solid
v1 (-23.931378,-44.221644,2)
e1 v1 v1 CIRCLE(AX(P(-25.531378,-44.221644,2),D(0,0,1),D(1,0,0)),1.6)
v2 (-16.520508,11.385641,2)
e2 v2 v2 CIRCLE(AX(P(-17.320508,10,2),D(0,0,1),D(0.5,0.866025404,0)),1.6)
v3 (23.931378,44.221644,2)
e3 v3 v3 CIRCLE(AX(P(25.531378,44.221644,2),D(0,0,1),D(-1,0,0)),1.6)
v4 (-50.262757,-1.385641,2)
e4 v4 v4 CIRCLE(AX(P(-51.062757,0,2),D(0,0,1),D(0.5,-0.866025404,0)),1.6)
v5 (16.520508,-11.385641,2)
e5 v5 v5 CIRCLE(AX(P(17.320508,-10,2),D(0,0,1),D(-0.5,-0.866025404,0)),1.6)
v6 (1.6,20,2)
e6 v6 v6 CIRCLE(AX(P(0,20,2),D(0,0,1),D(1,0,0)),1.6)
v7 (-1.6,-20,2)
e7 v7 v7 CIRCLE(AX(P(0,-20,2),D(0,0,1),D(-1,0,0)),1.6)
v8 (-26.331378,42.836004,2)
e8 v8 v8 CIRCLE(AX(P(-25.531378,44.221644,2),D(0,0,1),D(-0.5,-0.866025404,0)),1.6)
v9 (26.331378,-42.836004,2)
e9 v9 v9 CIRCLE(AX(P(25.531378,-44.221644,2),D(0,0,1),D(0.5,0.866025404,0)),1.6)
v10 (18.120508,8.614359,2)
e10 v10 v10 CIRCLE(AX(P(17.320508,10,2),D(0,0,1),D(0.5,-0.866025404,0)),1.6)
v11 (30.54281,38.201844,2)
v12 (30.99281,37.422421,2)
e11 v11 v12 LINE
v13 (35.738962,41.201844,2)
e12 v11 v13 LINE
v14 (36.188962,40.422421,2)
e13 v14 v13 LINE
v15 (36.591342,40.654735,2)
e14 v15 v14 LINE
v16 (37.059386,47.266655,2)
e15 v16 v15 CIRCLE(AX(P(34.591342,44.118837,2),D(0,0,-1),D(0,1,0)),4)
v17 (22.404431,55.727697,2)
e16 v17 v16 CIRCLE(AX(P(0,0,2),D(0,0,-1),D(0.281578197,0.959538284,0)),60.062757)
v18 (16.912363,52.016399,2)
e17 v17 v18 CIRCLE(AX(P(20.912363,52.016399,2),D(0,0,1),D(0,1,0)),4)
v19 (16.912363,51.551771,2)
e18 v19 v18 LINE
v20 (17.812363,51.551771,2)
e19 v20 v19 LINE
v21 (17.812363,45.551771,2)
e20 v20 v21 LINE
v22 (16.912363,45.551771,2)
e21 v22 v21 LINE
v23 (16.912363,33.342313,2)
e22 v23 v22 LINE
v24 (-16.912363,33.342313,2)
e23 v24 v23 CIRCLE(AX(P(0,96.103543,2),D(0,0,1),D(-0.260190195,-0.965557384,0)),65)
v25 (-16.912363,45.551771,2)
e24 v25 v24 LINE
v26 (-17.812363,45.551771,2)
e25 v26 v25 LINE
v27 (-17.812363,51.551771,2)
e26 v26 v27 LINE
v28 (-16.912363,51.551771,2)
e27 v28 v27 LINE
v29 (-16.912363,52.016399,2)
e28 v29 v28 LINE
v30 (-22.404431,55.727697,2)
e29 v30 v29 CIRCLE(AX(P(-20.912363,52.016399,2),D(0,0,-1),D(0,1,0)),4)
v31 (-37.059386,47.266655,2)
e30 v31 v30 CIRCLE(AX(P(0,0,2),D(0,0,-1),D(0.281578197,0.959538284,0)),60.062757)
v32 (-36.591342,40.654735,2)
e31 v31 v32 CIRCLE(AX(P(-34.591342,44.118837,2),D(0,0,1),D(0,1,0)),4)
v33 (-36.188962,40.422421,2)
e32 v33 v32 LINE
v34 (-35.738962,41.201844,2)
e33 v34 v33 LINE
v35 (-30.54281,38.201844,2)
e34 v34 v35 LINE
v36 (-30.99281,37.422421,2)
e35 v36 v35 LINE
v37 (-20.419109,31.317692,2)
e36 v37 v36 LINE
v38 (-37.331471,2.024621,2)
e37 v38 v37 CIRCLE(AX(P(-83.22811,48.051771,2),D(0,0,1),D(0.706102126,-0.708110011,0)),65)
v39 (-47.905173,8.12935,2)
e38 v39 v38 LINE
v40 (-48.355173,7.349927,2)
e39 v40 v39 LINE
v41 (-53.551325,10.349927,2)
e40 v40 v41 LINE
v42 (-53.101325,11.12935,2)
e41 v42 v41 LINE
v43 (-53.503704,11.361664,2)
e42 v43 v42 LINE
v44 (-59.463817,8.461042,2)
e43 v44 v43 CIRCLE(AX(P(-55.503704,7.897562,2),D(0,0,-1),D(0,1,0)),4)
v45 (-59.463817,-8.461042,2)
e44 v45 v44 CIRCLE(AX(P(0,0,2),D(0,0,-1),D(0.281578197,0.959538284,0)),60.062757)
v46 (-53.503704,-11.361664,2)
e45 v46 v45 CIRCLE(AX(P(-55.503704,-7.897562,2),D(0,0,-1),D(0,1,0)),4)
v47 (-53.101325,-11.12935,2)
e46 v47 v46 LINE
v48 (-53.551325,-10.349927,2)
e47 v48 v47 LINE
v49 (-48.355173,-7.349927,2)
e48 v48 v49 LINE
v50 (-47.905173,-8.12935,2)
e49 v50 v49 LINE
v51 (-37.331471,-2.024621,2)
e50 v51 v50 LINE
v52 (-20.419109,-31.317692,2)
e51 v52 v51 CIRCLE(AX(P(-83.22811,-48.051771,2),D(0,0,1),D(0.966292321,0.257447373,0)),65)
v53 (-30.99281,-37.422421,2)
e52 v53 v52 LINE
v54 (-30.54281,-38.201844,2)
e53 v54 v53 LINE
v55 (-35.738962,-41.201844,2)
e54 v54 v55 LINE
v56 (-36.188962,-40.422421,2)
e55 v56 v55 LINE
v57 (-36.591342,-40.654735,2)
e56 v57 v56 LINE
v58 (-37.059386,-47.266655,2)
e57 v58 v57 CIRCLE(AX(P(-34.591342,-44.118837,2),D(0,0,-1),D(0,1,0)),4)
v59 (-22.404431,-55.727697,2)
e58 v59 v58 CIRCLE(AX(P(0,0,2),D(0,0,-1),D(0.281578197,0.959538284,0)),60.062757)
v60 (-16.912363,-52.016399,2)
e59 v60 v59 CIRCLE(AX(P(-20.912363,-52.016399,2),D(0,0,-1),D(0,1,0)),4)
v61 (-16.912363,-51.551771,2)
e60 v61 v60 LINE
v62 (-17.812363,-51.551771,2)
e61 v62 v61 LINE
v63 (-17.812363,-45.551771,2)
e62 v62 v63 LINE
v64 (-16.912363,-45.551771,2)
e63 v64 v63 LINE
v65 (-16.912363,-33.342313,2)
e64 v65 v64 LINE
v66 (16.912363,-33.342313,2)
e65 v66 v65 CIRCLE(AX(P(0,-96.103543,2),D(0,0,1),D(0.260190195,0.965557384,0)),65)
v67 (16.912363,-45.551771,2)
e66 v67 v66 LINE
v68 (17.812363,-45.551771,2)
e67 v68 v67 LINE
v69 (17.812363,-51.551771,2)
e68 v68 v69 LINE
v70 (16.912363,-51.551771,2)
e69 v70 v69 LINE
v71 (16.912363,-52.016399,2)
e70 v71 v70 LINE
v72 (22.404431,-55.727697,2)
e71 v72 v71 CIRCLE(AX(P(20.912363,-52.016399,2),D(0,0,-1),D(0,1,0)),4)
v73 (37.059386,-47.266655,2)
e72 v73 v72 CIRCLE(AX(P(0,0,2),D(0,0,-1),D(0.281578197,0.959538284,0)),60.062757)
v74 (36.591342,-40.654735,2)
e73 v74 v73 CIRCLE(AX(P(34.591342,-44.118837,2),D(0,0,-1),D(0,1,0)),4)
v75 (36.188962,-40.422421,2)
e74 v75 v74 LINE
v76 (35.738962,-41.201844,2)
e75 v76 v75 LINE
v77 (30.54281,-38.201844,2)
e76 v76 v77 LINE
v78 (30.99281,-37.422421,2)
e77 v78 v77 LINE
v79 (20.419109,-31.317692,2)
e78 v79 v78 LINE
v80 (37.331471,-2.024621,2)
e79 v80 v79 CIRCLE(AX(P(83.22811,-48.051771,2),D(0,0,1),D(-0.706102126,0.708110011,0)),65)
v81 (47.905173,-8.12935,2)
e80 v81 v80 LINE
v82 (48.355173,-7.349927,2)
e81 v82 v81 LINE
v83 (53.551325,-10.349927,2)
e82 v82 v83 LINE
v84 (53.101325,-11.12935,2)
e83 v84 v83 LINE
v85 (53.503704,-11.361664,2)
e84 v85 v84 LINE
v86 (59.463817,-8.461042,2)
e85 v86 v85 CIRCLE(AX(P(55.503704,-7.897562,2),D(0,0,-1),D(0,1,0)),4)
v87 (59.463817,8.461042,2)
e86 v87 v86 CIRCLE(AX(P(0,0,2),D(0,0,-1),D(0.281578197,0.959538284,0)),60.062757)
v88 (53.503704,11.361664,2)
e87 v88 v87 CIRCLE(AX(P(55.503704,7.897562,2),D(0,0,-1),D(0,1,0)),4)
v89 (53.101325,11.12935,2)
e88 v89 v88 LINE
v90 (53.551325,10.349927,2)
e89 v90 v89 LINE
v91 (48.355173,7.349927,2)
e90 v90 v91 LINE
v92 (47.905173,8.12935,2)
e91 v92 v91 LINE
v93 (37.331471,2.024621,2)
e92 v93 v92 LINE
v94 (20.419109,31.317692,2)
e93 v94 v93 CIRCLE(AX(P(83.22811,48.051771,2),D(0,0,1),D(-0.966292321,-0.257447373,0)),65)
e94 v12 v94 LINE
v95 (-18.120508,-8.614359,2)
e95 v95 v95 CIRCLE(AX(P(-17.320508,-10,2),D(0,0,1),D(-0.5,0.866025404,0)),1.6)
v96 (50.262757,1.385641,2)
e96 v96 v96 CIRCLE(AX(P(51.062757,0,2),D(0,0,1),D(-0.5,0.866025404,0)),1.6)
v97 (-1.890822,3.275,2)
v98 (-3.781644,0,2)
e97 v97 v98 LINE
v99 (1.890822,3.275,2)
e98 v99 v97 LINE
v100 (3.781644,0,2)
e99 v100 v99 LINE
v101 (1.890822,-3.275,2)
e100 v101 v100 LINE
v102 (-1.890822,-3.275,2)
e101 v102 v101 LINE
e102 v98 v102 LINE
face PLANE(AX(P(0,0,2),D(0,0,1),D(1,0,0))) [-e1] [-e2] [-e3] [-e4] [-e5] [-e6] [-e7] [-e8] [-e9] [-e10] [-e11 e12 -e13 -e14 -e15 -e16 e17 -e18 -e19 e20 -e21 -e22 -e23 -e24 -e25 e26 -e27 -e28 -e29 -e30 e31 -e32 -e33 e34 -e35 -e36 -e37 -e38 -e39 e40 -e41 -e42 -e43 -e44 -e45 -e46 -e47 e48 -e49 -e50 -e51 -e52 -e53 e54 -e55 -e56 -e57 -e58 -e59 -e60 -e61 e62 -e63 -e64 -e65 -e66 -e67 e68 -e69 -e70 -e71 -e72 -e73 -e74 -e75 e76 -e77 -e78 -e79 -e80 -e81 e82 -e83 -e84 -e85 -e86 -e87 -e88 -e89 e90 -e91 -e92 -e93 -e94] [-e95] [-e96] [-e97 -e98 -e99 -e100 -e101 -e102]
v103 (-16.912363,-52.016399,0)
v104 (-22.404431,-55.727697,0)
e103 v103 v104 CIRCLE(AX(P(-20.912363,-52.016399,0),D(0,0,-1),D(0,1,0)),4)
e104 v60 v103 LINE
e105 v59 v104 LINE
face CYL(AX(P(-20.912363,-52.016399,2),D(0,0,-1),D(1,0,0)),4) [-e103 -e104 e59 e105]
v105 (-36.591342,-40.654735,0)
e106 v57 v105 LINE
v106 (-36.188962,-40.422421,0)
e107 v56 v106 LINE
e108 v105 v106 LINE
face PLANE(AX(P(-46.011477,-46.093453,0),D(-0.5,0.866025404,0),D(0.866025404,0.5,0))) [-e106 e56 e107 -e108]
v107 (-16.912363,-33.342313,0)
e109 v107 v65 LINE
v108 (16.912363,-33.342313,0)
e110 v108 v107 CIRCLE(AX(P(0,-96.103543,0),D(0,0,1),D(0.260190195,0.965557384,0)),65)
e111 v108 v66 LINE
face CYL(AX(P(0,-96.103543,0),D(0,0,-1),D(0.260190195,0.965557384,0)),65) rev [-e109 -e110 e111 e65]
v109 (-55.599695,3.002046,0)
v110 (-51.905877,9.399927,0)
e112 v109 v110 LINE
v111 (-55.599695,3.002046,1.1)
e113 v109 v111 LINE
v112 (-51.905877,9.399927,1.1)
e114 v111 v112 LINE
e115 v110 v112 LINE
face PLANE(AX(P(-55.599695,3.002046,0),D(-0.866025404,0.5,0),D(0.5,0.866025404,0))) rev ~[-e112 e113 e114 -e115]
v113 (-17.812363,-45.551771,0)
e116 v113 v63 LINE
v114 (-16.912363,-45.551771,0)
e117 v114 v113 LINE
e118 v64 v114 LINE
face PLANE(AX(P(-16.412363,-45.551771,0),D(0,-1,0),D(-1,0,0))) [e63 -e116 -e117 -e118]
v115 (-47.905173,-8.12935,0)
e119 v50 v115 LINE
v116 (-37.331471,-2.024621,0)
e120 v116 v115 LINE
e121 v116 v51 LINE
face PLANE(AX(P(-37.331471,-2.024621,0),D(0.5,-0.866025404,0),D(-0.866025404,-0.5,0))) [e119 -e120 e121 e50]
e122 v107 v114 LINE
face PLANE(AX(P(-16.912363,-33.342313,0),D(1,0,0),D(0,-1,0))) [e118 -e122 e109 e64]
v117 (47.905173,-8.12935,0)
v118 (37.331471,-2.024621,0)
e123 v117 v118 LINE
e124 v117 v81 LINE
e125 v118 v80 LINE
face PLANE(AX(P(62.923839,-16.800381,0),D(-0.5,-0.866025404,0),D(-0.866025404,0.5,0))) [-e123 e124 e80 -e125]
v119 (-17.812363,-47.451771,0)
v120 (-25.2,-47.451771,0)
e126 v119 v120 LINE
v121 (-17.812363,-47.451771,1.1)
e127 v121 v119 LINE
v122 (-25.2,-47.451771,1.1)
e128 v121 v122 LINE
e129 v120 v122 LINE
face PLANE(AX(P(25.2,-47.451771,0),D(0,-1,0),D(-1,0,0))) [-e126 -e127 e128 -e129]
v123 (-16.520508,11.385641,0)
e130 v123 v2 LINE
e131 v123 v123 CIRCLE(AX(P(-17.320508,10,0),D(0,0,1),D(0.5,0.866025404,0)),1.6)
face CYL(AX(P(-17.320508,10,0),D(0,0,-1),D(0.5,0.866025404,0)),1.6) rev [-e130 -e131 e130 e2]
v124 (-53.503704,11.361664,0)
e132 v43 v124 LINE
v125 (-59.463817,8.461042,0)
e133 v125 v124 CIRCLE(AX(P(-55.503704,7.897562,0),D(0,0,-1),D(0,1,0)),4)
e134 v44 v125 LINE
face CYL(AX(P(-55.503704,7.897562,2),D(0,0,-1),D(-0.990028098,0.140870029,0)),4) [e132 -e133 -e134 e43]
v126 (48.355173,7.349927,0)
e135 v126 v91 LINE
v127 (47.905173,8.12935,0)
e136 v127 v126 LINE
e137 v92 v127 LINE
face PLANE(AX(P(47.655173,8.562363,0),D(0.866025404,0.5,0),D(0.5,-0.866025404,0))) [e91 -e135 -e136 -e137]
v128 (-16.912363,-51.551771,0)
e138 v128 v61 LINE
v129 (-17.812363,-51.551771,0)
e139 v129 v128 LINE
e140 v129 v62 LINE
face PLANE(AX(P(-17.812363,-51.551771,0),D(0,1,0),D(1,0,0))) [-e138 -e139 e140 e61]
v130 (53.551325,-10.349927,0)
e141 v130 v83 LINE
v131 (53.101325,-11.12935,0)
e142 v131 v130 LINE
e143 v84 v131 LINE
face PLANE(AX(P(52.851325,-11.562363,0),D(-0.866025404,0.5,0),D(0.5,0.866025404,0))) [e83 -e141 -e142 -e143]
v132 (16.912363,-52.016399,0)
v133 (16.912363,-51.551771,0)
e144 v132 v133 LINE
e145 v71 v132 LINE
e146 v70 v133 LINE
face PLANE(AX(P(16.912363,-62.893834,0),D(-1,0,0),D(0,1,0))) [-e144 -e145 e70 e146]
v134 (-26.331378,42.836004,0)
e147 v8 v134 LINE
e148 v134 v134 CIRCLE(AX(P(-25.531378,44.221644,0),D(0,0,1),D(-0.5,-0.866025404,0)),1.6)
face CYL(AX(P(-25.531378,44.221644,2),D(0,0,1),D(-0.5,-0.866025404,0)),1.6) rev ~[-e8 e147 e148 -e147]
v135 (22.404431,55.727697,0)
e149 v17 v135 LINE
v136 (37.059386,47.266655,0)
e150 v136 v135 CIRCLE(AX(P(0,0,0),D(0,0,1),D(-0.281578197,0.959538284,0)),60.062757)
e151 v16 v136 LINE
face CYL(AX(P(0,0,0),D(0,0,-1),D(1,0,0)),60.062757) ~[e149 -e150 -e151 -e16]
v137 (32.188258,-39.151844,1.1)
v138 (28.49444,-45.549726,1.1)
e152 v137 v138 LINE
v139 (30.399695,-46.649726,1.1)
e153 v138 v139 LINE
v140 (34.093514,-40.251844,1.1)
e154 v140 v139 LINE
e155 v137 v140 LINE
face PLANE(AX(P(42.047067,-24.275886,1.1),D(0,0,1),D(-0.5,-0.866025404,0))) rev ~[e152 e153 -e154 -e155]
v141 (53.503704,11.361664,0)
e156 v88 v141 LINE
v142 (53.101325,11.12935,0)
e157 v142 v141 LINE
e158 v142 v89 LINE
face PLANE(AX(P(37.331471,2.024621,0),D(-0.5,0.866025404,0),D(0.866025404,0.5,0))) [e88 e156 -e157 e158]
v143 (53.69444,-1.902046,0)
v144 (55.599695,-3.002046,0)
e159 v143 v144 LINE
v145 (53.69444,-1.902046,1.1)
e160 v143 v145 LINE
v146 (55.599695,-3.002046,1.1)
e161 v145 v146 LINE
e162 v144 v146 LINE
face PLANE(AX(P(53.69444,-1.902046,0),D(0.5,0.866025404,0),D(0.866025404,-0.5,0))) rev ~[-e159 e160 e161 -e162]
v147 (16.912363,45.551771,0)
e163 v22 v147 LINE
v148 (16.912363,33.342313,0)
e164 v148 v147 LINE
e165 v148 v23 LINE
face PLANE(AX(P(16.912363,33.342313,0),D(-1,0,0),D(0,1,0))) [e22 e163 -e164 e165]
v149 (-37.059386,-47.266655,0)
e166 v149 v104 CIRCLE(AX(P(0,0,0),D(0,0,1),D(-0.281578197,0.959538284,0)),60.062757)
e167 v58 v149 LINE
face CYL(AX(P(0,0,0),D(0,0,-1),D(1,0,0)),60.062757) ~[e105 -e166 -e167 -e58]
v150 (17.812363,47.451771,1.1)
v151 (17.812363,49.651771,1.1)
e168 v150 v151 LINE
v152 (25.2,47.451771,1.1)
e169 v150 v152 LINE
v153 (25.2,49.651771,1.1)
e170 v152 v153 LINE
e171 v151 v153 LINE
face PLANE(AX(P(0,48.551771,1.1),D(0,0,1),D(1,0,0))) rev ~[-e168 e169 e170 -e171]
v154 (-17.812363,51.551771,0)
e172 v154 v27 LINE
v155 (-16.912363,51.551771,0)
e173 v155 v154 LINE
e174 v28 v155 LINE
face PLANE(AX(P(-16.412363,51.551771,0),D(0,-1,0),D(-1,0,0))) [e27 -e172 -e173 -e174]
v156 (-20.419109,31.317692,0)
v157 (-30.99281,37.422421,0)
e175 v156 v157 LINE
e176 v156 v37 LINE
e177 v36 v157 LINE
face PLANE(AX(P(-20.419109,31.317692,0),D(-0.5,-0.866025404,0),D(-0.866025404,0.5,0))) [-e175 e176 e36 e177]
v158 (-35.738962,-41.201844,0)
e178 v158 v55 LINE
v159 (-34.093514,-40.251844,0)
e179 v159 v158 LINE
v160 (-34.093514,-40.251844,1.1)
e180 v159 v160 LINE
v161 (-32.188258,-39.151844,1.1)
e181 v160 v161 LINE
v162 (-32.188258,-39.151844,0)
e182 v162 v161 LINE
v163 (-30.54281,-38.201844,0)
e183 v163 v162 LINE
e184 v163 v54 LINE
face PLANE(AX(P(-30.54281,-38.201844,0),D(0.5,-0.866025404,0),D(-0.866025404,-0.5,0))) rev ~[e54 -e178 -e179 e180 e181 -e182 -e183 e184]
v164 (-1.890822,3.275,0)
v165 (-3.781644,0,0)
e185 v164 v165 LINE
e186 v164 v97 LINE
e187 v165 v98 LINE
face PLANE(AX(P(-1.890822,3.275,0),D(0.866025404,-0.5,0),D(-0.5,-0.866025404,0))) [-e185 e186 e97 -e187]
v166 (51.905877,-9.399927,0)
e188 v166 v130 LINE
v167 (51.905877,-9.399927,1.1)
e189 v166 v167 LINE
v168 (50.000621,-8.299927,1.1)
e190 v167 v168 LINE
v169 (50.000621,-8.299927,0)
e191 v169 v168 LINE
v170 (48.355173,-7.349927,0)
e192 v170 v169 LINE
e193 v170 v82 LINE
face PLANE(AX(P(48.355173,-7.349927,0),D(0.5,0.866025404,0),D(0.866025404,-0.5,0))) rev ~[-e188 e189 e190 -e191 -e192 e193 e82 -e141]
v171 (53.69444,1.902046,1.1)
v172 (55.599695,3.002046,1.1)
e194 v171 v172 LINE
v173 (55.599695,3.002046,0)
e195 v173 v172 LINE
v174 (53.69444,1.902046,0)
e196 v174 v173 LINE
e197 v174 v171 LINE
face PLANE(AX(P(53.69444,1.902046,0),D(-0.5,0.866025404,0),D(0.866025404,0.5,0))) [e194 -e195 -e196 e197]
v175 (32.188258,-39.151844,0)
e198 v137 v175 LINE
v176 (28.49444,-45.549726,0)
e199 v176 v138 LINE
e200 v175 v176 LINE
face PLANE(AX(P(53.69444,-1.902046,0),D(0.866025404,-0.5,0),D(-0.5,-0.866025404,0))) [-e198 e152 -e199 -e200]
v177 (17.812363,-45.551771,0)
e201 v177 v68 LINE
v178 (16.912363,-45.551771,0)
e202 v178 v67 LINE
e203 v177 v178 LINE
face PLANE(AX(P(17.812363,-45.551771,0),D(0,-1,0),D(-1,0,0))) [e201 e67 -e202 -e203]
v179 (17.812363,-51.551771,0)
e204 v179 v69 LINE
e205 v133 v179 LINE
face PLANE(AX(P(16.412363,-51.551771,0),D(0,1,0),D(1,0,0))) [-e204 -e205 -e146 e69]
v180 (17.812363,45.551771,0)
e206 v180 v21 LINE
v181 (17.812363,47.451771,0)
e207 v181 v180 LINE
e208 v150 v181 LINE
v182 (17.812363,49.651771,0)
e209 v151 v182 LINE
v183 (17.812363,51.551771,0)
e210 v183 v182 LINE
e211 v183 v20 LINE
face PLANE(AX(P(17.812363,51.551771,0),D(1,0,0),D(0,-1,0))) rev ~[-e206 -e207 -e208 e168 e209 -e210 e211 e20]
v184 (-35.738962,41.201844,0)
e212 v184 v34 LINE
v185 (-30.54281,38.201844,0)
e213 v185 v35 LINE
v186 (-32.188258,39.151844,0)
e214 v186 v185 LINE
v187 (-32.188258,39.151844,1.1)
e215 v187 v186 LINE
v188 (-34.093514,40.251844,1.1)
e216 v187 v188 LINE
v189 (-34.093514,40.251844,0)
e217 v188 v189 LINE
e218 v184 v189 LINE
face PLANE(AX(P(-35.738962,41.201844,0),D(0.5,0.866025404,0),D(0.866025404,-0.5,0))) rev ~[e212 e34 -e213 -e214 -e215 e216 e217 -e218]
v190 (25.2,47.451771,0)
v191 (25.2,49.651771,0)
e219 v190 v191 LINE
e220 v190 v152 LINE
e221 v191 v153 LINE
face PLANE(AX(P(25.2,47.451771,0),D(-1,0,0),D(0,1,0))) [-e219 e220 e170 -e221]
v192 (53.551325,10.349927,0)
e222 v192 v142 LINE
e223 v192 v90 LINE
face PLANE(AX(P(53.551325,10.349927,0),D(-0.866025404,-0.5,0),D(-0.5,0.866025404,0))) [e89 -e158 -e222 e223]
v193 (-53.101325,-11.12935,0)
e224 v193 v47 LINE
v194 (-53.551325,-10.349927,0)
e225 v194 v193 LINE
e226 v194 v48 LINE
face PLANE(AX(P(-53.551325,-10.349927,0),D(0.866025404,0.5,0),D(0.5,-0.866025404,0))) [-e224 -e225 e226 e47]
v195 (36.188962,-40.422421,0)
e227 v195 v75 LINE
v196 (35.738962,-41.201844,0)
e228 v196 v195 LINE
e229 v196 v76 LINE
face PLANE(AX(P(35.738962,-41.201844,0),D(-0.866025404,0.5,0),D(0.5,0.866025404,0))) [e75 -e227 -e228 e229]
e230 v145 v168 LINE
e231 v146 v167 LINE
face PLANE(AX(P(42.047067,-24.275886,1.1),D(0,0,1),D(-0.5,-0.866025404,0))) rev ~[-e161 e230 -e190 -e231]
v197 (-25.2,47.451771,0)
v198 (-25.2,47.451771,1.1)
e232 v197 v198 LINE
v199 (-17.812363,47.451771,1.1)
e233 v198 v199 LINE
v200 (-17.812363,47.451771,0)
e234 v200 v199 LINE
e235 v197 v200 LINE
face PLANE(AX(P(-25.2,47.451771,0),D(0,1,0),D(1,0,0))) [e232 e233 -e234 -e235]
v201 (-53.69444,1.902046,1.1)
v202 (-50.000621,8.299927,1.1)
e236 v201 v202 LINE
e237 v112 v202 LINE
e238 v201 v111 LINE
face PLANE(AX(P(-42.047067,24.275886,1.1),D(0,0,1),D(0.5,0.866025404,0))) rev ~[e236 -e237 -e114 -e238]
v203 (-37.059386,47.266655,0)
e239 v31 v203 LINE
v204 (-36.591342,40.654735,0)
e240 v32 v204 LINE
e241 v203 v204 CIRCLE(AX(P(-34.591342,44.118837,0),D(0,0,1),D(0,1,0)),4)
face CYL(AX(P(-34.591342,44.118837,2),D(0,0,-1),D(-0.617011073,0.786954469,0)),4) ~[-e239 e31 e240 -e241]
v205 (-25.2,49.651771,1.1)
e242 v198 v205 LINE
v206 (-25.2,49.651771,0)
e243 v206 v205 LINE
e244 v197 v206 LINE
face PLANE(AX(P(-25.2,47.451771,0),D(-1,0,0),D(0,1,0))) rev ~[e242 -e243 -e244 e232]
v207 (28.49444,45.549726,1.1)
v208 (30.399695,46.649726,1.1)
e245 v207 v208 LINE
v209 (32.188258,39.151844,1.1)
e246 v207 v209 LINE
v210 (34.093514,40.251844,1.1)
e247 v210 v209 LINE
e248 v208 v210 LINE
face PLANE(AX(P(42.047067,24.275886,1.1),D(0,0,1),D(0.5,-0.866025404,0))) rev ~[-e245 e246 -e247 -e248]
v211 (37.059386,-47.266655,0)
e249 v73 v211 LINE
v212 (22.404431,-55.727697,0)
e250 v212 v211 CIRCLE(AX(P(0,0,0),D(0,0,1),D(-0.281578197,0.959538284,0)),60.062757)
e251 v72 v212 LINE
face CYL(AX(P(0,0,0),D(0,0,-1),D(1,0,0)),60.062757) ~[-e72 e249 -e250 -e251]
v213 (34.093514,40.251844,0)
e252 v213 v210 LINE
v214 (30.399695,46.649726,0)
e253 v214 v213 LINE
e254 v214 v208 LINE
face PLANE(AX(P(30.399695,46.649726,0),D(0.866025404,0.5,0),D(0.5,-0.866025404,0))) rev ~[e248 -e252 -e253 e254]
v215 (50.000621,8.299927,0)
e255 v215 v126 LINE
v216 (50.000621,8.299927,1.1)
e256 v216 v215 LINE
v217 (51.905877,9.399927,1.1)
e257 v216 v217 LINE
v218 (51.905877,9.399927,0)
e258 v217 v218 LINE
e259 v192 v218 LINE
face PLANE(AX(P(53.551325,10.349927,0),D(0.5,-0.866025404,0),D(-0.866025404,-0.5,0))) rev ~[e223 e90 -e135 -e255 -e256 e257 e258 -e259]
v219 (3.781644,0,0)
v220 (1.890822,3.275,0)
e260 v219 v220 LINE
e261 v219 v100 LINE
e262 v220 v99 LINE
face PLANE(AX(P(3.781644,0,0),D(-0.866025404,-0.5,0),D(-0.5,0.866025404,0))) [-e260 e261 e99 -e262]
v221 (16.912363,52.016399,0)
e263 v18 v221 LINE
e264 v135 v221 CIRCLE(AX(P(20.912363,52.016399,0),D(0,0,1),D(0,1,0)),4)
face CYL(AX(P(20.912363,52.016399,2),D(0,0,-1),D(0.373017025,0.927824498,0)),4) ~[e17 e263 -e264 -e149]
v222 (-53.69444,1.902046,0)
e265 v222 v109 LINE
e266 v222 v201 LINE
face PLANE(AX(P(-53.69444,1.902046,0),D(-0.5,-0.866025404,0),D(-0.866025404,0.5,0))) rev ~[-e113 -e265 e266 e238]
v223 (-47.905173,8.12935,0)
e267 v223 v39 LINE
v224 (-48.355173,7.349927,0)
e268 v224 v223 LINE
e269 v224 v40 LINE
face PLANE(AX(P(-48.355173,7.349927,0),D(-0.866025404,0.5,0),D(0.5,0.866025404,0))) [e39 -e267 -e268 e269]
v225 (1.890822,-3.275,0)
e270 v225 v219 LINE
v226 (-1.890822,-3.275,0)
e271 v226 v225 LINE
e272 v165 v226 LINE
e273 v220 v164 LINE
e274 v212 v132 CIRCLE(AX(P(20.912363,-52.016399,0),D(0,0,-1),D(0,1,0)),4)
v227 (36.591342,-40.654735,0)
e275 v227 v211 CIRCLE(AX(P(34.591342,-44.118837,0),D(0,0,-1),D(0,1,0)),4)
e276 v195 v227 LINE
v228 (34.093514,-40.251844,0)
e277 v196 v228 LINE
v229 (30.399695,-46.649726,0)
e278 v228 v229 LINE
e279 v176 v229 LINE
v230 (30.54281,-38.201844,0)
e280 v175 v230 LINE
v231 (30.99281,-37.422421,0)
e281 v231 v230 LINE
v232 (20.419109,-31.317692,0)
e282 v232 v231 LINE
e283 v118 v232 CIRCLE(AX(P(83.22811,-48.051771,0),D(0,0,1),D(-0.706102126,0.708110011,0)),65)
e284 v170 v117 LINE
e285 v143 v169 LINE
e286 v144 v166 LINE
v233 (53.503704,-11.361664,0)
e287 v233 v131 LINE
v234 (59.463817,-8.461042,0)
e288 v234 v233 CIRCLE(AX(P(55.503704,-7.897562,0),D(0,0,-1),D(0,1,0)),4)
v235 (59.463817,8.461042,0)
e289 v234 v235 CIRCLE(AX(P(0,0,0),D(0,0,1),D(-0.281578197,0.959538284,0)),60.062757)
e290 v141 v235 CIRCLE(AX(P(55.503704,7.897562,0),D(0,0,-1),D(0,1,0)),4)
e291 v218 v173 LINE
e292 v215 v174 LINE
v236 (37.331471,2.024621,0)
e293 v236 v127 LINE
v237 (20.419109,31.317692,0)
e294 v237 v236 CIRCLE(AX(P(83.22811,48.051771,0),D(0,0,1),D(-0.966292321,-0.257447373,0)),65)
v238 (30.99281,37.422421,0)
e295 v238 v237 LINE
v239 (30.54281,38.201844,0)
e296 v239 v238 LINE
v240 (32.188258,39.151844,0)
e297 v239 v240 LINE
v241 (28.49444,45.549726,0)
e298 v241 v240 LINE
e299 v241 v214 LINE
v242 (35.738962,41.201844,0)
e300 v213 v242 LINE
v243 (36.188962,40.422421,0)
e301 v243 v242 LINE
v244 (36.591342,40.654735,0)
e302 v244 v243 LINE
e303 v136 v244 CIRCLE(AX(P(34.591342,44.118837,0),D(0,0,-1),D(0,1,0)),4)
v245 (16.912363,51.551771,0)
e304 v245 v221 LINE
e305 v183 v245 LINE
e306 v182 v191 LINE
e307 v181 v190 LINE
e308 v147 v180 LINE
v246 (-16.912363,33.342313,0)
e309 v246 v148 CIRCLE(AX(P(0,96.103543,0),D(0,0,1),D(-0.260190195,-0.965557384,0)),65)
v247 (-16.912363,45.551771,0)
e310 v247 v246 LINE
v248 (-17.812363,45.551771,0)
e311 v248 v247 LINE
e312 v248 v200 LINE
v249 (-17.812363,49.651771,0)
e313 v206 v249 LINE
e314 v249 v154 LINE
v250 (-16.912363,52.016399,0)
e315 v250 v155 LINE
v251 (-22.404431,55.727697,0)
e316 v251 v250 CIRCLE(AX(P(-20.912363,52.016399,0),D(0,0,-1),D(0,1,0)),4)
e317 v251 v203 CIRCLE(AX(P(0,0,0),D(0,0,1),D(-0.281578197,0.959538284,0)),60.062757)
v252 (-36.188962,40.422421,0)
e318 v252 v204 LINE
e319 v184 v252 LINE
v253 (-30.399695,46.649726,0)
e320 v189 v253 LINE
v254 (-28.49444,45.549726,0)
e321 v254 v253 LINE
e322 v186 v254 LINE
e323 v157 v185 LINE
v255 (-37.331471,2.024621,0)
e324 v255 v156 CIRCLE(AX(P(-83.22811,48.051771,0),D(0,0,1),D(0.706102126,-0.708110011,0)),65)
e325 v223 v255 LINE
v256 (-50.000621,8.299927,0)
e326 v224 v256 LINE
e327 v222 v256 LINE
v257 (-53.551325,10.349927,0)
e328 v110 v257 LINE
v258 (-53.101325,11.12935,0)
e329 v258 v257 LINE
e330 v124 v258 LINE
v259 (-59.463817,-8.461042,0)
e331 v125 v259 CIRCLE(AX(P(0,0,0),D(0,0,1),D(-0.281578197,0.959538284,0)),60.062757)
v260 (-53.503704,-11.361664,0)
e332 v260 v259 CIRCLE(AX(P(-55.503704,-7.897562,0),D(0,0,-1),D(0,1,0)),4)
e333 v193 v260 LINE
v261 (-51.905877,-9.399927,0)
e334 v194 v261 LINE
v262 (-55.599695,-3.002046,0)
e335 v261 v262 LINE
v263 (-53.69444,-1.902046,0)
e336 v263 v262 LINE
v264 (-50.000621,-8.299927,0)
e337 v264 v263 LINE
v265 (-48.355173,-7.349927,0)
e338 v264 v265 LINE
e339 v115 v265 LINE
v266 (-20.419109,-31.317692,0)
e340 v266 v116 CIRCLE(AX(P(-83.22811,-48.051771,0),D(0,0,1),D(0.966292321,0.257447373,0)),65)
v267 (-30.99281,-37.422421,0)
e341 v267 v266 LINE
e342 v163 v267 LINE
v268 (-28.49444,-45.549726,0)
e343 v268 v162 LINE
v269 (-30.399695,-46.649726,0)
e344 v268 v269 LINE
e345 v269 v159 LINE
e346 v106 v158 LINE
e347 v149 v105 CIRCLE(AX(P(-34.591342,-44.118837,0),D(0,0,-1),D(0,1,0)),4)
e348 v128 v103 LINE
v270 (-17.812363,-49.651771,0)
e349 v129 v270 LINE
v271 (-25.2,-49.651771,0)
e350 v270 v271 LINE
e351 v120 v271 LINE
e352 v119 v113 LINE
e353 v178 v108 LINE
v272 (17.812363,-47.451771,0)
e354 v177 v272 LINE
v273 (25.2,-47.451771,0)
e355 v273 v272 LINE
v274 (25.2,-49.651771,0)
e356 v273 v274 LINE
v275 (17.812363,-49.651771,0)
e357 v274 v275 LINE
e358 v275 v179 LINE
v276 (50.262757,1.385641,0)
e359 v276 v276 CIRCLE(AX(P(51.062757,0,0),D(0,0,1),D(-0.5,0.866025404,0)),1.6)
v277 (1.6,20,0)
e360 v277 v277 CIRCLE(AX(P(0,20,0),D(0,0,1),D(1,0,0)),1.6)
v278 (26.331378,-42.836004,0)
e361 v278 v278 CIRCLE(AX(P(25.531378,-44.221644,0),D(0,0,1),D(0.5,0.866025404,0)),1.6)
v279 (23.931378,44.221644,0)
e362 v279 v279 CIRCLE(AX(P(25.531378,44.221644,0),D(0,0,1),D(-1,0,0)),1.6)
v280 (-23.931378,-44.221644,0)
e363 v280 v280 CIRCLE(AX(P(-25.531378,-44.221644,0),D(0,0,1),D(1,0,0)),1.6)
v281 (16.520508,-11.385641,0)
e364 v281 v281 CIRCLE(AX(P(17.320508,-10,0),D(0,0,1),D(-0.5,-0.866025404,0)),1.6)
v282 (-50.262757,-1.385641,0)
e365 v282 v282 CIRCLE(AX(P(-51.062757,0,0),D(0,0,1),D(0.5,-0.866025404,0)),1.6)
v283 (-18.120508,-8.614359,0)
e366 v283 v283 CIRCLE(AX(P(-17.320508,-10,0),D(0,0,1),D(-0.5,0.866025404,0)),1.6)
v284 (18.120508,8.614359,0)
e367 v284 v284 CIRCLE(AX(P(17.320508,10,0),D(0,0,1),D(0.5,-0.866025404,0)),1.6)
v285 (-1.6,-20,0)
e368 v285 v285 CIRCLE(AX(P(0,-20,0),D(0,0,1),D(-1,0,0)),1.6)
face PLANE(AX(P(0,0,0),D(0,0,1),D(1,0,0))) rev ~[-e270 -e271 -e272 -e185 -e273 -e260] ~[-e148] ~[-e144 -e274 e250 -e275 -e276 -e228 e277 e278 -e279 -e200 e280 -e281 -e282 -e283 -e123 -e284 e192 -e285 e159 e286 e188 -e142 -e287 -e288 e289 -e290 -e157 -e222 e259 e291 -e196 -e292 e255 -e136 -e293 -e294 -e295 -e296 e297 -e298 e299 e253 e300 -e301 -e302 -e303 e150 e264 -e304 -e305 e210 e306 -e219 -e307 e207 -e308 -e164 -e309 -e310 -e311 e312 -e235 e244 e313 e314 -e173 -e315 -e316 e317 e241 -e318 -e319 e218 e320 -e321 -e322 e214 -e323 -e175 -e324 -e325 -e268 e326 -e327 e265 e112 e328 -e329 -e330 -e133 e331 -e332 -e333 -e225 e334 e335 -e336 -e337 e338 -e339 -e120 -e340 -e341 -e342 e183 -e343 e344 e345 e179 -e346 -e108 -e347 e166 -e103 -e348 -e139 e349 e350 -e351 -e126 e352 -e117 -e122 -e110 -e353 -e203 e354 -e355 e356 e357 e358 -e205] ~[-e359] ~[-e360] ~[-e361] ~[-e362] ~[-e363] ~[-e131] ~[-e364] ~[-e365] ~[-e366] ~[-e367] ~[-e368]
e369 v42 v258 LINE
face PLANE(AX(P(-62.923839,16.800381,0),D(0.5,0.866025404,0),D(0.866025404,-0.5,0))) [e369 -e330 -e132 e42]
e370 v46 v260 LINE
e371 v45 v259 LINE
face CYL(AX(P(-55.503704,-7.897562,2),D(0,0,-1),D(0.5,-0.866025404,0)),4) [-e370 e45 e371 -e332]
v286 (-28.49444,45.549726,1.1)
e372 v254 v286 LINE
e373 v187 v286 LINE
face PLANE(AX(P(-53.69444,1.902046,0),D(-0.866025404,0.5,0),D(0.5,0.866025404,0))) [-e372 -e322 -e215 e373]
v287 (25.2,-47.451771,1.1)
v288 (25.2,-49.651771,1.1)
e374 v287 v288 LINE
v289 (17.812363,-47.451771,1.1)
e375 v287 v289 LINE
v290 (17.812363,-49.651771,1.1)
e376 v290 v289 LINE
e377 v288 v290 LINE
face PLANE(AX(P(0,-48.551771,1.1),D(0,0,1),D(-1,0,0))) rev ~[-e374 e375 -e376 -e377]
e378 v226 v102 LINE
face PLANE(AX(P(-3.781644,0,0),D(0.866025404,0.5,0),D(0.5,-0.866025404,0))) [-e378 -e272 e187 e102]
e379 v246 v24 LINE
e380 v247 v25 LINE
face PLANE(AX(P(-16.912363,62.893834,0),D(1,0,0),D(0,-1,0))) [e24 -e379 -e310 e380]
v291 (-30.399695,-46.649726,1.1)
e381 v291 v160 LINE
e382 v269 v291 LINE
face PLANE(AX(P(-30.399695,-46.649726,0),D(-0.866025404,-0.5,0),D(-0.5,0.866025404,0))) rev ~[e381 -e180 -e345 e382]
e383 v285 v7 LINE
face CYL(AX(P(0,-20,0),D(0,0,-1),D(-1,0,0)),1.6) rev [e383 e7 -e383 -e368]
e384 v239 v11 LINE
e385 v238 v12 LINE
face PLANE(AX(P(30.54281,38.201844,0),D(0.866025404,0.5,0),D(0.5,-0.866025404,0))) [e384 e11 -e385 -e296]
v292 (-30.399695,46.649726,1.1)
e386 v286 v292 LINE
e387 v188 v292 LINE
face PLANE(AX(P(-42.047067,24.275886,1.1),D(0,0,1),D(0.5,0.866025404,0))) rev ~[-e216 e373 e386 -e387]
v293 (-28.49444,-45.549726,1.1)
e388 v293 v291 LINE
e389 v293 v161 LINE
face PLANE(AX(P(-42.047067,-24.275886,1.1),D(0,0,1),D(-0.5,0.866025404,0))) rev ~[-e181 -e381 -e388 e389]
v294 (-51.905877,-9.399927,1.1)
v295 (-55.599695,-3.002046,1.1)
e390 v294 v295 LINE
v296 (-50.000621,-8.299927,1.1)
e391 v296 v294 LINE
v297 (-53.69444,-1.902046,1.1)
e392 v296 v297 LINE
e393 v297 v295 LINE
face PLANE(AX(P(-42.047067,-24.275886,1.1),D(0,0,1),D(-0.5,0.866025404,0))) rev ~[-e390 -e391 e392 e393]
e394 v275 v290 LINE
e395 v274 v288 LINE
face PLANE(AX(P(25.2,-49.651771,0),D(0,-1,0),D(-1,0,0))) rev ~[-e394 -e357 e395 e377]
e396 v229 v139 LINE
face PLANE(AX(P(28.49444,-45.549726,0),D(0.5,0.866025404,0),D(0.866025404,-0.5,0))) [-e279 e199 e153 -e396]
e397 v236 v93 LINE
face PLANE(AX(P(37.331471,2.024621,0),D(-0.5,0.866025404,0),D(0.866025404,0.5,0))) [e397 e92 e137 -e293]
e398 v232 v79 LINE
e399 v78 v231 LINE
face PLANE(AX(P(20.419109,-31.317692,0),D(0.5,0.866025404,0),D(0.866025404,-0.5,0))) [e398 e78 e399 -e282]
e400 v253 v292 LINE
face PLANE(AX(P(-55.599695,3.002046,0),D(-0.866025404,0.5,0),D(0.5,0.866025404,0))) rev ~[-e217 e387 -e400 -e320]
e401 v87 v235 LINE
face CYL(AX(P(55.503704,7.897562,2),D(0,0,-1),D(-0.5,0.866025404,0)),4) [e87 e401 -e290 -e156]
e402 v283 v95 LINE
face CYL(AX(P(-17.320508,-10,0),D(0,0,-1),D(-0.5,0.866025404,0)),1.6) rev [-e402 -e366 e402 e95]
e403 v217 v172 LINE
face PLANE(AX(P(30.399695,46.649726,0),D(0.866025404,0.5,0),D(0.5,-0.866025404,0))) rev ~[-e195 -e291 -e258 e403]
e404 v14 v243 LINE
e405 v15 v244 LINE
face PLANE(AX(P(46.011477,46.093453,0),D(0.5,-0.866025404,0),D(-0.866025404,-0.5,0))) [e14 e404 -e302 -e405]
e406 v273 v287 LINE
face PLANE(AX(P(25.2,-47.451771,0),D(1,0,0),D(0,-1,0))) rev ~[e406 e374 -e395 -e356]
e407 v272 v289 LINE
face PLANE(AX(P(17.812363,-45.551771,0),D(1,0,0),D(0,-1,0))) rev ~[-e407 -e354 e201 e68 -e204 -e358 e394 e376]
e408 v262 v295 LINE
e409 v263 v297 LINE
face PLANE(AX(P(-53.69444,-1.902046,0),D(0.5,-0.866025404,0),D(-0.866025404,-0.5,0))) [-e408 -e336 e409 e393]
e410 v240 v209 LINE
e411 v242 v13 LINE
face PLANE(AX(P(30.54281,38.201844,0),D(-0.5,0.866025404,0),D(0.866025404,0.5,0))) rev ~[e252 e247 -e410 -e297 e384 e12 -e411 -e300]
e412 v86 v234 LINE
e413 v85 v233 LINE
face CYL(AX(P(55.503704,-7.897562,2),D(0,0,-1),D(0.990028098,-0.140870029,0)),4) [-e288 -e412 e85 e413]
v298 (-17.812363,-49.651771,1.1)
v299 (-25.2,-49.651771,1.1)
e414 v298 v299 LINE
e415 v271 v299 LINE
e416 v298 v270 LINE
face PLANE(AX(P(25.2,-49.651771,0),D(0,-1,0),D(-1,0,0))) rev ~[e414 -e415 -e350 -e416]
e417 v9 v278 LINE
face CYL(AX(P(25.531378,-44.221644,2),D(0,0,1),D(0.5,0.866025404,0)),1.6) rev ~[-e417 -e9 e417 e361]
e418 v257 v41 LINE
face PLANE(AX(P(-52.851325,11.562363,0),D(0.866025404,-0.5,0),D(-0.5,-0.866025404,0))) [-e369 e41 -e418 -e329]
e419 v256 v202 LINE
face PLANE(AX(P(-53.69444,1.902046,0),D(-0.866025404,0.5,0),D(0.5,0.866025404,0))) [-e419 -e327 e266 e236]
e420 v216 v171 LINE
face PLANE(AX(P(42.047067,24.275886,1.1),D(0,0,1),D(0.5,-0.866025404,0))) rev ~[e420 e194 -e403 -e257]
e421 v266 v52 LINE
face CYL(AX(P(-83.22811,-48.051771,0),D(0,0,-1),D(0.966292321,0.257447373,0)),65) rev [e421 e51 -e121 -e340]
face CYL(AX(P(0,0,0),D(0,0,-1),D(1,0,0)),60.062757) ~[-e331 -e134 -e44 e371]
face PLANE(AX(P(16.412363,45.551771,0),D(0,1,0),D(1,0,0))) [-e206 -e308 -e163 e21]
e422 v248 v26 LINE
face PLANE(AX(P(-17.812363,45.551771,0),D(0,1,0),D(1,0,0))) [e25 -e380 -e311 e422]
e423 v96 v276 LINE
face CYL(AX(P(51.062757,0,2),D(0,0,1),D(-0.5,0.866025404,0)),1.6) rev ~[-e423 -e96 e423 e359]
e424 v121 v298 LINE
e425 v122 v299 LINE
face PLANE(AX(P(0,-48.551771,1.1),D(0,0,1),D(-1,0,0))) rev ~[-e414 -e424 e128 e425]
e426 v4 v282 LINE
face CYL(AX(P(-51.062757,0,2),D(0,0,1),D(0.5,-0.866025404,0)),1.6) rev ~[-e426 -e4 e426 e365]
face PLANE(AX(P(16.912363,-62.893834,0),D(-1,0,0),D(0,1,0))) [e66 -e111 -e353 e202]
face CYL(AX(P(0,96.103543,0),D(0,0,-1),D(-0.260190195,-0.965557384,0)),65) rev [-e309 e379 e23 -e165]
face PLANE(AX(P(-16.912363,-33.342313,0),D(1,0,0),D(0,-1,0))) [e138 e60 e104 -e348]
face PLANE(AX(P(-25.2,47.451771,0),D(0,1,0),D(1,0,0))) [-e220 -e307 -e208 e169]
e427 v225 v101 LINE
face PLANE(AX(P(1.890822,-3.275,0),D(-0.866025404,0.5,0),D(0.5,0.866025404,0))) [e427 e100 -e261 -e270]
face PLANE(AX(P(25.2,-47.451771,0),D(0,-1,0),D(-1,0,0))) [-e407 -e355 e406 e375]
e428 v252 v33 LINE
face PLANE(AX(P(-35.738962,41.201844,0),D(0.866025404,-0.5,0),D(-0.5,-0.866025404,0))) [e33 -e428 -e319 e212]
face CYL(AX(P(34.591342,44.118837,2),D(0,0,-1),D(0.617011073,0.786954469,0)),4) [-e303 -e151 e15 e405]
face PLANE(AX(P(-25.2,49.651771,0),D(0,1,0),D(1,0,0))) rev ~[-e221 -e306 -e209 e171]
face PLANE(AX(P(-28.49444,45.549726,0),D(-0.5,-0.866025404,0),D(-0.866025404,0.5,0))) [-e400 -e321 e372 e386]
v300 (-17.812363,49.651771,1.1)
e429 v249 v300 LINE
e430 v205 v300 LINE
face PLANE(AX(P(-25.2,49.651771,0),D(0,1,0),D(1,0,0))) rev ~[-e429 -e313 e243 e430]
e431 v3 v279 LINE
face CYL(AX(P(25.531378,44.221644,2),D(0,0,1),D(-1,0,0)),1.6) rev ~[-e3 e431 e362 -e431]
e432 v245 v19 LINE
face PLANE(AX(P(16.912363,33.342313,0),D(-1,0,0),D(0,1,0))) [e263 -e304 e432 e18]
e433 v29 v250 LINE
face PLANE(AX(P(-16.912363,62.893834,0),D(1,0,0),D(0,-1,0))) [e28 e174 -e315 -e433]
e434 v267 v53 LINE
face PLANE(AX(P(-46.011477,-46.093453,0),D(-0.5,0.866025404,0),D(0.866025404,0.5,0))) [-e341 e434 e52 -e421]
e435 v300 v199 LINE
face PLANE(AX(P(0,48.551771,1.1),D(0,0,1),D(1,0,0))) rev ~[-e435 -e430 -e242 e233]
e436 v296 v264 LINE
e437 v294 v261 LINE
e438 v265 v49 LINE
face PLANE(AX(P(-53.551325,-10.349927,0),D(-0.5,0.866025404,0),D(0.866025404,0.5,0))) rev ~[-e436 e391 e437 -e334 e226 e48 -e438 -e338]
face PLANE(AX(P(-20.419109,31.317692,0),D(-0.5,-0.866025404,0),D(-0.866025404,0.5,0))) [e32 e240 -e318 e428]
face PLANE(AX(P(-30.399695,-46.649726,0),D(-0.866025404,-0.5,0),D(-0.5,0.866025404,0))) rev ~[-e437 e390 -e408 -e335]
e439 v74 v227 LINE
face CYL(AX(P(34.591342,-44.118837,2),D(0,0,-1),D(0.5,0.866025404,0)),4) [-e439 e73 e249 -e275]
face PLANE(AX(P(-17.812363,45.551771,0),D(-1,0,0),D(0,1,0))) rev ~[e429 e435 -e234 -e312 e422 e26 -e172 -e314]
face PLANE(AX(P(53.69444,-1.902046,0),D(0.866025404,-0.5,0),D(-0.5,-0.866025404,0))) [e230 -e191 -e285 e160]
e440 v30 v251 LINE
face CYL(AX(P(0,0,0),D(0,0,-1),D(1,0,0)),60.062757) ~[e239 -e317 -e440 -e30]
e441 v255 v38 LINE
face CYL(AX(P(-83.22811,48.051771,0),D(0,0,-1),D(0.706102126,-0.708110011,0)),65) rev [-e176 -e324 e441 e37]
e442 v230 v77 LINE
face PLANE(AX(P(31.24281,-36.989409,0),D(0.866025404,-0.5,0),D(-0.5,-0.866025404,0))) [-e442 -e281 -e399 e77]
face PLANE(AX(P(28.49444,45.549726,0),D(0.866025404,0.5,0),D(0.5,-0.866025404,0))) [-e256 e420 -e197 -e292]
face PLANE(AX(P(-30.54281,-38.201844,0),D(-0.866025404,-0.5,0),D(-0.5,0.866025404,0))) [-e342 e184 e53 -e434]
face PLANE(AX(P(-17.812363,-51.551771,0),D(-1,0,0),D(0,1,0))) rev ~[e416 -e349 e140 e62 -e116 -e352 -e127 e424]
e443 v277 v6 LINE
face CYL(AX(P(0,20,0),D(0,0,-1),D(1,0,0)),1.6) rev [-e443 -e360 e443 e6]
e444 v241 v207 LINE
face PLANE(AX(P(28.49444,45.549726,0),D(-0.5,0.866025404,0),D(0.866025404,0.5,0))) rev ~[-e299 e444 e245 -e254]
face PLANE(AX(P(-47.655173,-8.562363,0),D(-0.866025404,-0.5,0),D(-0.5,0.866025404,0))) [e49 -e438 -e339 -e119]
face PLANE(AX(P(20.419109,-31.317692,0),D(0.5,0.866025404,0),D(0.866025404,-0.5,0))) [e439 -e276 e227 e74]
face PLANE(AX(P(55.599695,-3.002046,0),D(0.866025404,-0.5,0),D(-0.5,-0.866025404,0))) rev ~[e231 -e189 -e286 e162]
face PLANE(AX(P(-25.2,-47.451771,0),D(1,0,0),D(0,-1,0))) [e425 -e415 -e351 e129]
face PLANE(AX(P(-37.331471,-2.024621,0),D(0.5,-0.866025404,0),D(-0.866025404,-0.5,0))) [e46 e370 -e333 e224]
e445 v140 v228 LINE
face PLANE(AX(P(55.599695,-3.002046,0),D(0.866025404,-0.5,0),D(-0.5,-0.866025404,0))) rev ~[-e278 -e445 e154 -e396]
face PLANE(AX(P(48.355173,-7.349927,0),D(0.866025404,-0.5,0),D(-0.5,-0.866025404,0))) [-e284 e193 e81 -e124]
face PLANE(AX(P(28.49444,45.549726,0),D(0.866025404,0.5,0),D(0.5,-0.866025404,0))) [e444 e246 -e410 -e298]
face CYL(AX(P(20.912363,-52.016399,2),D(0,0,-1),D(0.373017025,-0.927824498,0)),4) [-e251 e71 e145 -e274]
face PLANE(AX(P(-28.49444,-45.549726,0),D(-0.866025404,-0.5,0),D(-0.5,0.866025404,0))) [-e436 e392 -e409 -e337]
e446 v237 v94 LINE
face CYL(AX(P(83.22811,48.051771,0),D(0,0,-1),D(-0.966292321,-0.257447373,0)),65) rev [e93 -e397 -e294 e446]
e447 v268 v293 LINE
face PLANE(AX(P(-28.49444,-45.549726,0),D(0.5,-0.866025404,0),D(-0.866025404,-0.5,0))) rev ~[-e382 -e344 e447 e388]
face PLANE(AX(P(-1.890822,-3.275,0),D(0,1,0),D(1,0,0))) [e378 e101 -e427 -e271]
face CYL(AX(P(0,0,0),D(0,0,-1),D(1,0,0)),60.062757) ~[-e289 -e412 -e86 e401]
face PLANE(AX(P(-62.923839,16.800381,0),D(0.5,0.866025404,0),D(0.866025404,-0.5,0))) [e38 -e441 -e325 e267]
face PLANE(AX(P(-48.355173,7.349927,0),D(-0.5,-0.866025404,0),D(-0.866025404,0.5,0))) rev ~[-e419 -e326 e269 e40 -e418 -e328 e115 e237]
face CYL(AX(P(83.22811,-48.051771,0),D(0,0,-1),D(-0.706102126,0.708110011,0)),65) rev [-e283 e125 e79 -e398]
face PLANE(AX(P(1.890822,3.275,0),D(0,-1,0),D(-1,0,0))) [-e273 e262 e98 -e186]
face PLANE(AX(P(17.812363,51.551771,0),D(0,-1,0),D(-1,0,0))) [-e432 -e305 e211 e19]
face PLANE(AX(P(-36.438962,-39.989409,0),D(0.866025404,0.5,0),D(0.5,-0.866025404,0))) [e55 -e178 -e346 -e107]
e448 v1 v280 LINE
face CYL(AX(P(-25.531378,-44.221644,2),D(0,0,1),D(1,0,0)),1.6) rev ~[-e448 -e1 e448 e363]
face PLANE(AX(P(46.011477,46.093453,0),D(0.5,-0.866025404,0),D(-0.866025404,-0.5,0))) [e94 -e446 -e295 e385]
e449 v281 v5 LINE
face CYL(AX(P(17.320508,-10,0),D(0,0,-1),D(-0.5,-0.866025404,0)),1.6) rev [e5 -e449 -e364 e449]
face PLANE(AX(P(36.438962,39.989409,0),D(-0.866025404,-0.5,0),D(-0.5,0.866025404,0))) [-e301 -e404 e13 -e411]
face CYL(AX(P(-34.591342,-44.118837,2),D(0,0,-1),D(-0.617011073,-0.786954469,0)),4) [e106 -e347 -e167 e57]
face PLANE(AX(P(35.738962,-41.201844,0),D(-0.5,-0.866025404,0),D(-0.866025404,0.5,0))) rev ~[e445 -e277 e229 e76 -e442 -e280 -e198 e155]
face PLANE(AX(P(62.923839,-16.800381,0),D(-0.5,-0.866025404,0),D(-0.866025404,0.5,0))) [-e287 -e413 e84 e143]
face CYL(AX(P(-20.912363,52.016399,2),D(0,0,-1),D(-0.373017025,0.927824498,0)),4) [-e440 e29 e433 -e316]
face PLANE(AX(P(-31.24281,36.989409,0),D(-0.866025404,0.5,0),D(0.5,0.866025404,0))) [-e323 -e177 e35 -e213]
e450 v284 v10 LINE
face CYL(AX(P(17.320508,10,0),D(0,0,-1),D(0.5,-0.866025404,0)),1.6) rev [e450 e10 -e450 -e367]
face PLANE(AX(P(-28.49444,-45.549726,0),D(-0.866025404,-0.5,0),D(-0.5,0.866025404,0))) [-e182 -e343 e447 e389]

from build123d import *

# Parameters (mm, degrees)
SKETCH3_R                = 60.062756644
DISK_DEPTH               = 2
SKETCH4_W                = 50.4
SKETCH4_H                = 2.2
AXLE_DEPTH               = 1.1
ROLLER_REACH             = 86.965
WASHER_REACH             = 86.965
FILLET1_R                = 4
CIRPATTERN1_COUNT        = 6
FILLET1_OF_CIRPATTERN1_R = 4
ROLLER_SCREW_REACH       = 84.155
SKETCH9_R                = 1.6
CIRPATTERN3_COUNT        = 6
HEX_AXLE_REACH           = 84.155
HUB_SCREWS_REACH         = 84.155
SKETCH11_R               = 1.6
CIRPATTERN4_COUNT        = 6


with BuildPart() as part:
    # Sketch3 → Disk (new body)
    with BuildSketch(Plane.XY):
        Circle(SKETCH3_R)
    extrude(amount=DISK_DEPTH)

    # Sketch4 → Axle (cut)
    with BuildSketch(Plane.XY):
        with Locations((0, 48.55177146)):
            Rectangle(SKETCH4_W, SKETCH4_H)
    axle = extrude(amount=AXLE_DEPTH, mode=Mode.SUBTRACT)

    # Sketch7 → Roller (cut, up to next)
    with BuildSketch(Plane.XY, mode=Mode.PRIVATE) as roller_sk1:
        with BuildLine():
            Line((16.912362698, 62.893833964), (-16.912362698, 62.893833964))
            Line((-16.912362698, 62.893833964), (-16.912362698, 33.342312944))
            ThreePointArc((-16.912362698, 33.342312944), (0, 31.103542919), (16.912362698, 33.342312944))
            Line((16.912362698, 33.342312944), (16.912362698, 62.893833964))
        make_face()
    roller_tool1 = extrude(roller_sk1.sketch, amount=ROLLER_REACH, mode=Mode.PRIVATE) & part.part
    roller = roller_tool1.solids().sort_by_distance((0, 47.36207, 0))[0]
    add(roller, mode=Mode.SUBTRACT)

    # Sketch8 → Washer (cut, up to next)
    with BuildSketch(Plane.XY, mode=Mode.PRIVATE) as washer_sk1:
        Polygon((-17.812362698, 51.55177146), (-16.912362698, 51.55177146), (-16.412362698, 51.55177146), (-16.412362698, 45.55177146), (-16.912362698, 45.55177146), (-17.812362698, 45.55177146), align=None)
    washer_tool1 = extrude(washer_sk1.sketch, amount=WASHER_REACH, mode=Mode.PRIVATE) & part.part
    # Sketch8 → Washer (cut, up to next)
    with BuildSketch(Plane.XY, mode=Mode.PRIVATE) as washer_sk2:
        Polygon((17.812362698, 51.55177146), (17.812362698, 45.55177146), (16.912362698, 45.55177146), (16.412362698, 45.55177146), (16.412362698, 51.55177146), (16.912362698, 51.55177146), align=None)
    washer_tool2 = extrude(washer_sk2.sketch, amount=WASHER_REACH, mode=Mode.PRIVATE) & part.part
    washer_1 = washer_tool1.solids().sort_by_distance((-17.112363, 48.551771, 0))[0]
    add(washer_1, mode=Mode.SUBTRACT)
    washer_2 = washer_tool2.solids().sort_by_distance((17.112363, 48.551771, 0))[0]
    add(washer_2, mode=Mode.SUBTRACT)
    washer = washer_1 + washer_2  # Washer as one shape, for the pattern or mirror that repeats it

    # Fillet1
    fillet1_edges = [part.edges().sort_by_distance(p)[0] for p in [
        (16.912362698, 57.632514466, 1),
        (-16.912362698, 57.632514466, 1),
    ]]
    fillet(fillet1_edges, radius=FILLET1_R)

    # CirPattern1: Axle, Roller, Washer ×6 about axis
    cirpattern1_axis = Axis((0, 0, -6.491701274), (0, 0, 1))
    add([axle.rotate(cirpattern1_axis, i * 360 / CIRPATTERN1_COUNT) for i in range(1, CIRPATTERN1_COUNT)], mode=Mode.SUBTRACT)
    add([roller.rotate(cirpattern1_axis, i * 360 / CIRPATTERN1_COUNT) for i in range(1, CIRPATTERN1_COUNT)], mode=Mode.SUBTRACT)
    add([washer.rotate(cirpattern1_axis, i * 360 / CIRPATTERN1_COUNT) for i in range(1, CIRPATTERN1_COUNT)], mode=Mode.SUBTRACT)

    # Fillet1 of CirPattern1
    fillet1_of_cirpattern1_edges = [part.edges().sort_by_distance(p)[0] for p in [
        (-41.455040262, 43.462792967, 1),
        (-58.36740296, 14.169721499, 1),
        (-58.36740296, -14.169721499, 1),
        (-41.455040262, -43.462792967, 1),
        (-16.912362698, -57.632514466, 1),
        (16.912362698, -57.632514466, 1),
        (41.455040262, -43.462792967, 1),
        (58.36740296, -14.169721499, 1),
        (58.36740296, 14.169721499, 1),
        (41.455040262, 43.462792967, 1),
    ]]
    fillet(fillet1_of_cirpattern1_edges, radius=FILLET1_OF_CIRPATTERN1_R)

    # Sketch9 → Roller screw (cut, up to next)
    with BuildSketch(Plane.XY.offset(2), mode=Mode.PRIVATE) as roller_screw_sk1:
        with Locations((-25.531378322, -44.221644441)):
            Circle(SKETCH9_R)
    roller_screw_tool1 = extrude(roller_screw_sk1.sketch, amount=-ROLLER_SCREW_REACH, mode=Mode.PRIVATE) & part.part
    roller_screw = roller_screw_tool1.solids().sort_by_distance((-25.531378, -44.221644, 2))[0]
    add(roller_screw, mode=Mode.SUBTRACT)

    # CirPattern3: Roller screw ×6 about axis
    cirpattern3_axis = Axis((0, 0, -6.491701274), (0, 0, 1))
    for i in range(1, CIRPATTERN3_COUNT):
        add(roller_screw.rotate(cirpattern3_axis, i * 360 / CIRPATTERN3_COUNT), mode=Mode.SUBTRACT)

    # Sketch10 → Hex axle (cut, up to next)
    with BuildSketch(Plane.XY, mode=Mode.PRIVATE) as hex_axle_sk1:
        Polygon((3.781644263, 0), (1.890822132, 3.275), (-1.890822132, 3.275), (-3.781644263, 0), (-1.890822132, -3.275), (1.890822132, -3.275), align=None)
    hex_axle_tool1 = extrude(hex_axle_sk1.sketch, amount=HEX_AXLE_REACH, mode=Mode.PRIVATE) & part.part
    add(hex_axle_tool1.solids().sort_by_distance((0, 0, 0))[0], mode=Mode.SUBTRACT)

    # Sketch11 → Hub screws (cut, up to next)
    with BuildSketch(Plane.XY, mode=Mode.PRIVATE) as hub_screws_sk1:
        with Locations((0, 20)):
            Circle(SKETCH11_R)
    hub_screws_tool1 = extrude(hub_screws_sk1.sketch, amount=HUB_SCREWS_REACH, mode=Mode.PRIVATE) & part.part
    hub_screws = hub_screws_tool1.solids().sort_by_distance((0, 20, 0))[0]
    add(hub_screws, mode=Mode.SUBTRACT)

    # CirPattern4: Hub screws ×6 about axis
    cirpattern4_axis = Axis((0, 0, -6.491701274), (0, 0, 1))
    for i in range(1, CIRPATTERN4_COUNT):
        add(hub_screws.rotate(cirpattern4_axis, i * 360 / CIRPATTERN4_COUNT), mode=Mode.SUBTRACT)


solid = part.part
